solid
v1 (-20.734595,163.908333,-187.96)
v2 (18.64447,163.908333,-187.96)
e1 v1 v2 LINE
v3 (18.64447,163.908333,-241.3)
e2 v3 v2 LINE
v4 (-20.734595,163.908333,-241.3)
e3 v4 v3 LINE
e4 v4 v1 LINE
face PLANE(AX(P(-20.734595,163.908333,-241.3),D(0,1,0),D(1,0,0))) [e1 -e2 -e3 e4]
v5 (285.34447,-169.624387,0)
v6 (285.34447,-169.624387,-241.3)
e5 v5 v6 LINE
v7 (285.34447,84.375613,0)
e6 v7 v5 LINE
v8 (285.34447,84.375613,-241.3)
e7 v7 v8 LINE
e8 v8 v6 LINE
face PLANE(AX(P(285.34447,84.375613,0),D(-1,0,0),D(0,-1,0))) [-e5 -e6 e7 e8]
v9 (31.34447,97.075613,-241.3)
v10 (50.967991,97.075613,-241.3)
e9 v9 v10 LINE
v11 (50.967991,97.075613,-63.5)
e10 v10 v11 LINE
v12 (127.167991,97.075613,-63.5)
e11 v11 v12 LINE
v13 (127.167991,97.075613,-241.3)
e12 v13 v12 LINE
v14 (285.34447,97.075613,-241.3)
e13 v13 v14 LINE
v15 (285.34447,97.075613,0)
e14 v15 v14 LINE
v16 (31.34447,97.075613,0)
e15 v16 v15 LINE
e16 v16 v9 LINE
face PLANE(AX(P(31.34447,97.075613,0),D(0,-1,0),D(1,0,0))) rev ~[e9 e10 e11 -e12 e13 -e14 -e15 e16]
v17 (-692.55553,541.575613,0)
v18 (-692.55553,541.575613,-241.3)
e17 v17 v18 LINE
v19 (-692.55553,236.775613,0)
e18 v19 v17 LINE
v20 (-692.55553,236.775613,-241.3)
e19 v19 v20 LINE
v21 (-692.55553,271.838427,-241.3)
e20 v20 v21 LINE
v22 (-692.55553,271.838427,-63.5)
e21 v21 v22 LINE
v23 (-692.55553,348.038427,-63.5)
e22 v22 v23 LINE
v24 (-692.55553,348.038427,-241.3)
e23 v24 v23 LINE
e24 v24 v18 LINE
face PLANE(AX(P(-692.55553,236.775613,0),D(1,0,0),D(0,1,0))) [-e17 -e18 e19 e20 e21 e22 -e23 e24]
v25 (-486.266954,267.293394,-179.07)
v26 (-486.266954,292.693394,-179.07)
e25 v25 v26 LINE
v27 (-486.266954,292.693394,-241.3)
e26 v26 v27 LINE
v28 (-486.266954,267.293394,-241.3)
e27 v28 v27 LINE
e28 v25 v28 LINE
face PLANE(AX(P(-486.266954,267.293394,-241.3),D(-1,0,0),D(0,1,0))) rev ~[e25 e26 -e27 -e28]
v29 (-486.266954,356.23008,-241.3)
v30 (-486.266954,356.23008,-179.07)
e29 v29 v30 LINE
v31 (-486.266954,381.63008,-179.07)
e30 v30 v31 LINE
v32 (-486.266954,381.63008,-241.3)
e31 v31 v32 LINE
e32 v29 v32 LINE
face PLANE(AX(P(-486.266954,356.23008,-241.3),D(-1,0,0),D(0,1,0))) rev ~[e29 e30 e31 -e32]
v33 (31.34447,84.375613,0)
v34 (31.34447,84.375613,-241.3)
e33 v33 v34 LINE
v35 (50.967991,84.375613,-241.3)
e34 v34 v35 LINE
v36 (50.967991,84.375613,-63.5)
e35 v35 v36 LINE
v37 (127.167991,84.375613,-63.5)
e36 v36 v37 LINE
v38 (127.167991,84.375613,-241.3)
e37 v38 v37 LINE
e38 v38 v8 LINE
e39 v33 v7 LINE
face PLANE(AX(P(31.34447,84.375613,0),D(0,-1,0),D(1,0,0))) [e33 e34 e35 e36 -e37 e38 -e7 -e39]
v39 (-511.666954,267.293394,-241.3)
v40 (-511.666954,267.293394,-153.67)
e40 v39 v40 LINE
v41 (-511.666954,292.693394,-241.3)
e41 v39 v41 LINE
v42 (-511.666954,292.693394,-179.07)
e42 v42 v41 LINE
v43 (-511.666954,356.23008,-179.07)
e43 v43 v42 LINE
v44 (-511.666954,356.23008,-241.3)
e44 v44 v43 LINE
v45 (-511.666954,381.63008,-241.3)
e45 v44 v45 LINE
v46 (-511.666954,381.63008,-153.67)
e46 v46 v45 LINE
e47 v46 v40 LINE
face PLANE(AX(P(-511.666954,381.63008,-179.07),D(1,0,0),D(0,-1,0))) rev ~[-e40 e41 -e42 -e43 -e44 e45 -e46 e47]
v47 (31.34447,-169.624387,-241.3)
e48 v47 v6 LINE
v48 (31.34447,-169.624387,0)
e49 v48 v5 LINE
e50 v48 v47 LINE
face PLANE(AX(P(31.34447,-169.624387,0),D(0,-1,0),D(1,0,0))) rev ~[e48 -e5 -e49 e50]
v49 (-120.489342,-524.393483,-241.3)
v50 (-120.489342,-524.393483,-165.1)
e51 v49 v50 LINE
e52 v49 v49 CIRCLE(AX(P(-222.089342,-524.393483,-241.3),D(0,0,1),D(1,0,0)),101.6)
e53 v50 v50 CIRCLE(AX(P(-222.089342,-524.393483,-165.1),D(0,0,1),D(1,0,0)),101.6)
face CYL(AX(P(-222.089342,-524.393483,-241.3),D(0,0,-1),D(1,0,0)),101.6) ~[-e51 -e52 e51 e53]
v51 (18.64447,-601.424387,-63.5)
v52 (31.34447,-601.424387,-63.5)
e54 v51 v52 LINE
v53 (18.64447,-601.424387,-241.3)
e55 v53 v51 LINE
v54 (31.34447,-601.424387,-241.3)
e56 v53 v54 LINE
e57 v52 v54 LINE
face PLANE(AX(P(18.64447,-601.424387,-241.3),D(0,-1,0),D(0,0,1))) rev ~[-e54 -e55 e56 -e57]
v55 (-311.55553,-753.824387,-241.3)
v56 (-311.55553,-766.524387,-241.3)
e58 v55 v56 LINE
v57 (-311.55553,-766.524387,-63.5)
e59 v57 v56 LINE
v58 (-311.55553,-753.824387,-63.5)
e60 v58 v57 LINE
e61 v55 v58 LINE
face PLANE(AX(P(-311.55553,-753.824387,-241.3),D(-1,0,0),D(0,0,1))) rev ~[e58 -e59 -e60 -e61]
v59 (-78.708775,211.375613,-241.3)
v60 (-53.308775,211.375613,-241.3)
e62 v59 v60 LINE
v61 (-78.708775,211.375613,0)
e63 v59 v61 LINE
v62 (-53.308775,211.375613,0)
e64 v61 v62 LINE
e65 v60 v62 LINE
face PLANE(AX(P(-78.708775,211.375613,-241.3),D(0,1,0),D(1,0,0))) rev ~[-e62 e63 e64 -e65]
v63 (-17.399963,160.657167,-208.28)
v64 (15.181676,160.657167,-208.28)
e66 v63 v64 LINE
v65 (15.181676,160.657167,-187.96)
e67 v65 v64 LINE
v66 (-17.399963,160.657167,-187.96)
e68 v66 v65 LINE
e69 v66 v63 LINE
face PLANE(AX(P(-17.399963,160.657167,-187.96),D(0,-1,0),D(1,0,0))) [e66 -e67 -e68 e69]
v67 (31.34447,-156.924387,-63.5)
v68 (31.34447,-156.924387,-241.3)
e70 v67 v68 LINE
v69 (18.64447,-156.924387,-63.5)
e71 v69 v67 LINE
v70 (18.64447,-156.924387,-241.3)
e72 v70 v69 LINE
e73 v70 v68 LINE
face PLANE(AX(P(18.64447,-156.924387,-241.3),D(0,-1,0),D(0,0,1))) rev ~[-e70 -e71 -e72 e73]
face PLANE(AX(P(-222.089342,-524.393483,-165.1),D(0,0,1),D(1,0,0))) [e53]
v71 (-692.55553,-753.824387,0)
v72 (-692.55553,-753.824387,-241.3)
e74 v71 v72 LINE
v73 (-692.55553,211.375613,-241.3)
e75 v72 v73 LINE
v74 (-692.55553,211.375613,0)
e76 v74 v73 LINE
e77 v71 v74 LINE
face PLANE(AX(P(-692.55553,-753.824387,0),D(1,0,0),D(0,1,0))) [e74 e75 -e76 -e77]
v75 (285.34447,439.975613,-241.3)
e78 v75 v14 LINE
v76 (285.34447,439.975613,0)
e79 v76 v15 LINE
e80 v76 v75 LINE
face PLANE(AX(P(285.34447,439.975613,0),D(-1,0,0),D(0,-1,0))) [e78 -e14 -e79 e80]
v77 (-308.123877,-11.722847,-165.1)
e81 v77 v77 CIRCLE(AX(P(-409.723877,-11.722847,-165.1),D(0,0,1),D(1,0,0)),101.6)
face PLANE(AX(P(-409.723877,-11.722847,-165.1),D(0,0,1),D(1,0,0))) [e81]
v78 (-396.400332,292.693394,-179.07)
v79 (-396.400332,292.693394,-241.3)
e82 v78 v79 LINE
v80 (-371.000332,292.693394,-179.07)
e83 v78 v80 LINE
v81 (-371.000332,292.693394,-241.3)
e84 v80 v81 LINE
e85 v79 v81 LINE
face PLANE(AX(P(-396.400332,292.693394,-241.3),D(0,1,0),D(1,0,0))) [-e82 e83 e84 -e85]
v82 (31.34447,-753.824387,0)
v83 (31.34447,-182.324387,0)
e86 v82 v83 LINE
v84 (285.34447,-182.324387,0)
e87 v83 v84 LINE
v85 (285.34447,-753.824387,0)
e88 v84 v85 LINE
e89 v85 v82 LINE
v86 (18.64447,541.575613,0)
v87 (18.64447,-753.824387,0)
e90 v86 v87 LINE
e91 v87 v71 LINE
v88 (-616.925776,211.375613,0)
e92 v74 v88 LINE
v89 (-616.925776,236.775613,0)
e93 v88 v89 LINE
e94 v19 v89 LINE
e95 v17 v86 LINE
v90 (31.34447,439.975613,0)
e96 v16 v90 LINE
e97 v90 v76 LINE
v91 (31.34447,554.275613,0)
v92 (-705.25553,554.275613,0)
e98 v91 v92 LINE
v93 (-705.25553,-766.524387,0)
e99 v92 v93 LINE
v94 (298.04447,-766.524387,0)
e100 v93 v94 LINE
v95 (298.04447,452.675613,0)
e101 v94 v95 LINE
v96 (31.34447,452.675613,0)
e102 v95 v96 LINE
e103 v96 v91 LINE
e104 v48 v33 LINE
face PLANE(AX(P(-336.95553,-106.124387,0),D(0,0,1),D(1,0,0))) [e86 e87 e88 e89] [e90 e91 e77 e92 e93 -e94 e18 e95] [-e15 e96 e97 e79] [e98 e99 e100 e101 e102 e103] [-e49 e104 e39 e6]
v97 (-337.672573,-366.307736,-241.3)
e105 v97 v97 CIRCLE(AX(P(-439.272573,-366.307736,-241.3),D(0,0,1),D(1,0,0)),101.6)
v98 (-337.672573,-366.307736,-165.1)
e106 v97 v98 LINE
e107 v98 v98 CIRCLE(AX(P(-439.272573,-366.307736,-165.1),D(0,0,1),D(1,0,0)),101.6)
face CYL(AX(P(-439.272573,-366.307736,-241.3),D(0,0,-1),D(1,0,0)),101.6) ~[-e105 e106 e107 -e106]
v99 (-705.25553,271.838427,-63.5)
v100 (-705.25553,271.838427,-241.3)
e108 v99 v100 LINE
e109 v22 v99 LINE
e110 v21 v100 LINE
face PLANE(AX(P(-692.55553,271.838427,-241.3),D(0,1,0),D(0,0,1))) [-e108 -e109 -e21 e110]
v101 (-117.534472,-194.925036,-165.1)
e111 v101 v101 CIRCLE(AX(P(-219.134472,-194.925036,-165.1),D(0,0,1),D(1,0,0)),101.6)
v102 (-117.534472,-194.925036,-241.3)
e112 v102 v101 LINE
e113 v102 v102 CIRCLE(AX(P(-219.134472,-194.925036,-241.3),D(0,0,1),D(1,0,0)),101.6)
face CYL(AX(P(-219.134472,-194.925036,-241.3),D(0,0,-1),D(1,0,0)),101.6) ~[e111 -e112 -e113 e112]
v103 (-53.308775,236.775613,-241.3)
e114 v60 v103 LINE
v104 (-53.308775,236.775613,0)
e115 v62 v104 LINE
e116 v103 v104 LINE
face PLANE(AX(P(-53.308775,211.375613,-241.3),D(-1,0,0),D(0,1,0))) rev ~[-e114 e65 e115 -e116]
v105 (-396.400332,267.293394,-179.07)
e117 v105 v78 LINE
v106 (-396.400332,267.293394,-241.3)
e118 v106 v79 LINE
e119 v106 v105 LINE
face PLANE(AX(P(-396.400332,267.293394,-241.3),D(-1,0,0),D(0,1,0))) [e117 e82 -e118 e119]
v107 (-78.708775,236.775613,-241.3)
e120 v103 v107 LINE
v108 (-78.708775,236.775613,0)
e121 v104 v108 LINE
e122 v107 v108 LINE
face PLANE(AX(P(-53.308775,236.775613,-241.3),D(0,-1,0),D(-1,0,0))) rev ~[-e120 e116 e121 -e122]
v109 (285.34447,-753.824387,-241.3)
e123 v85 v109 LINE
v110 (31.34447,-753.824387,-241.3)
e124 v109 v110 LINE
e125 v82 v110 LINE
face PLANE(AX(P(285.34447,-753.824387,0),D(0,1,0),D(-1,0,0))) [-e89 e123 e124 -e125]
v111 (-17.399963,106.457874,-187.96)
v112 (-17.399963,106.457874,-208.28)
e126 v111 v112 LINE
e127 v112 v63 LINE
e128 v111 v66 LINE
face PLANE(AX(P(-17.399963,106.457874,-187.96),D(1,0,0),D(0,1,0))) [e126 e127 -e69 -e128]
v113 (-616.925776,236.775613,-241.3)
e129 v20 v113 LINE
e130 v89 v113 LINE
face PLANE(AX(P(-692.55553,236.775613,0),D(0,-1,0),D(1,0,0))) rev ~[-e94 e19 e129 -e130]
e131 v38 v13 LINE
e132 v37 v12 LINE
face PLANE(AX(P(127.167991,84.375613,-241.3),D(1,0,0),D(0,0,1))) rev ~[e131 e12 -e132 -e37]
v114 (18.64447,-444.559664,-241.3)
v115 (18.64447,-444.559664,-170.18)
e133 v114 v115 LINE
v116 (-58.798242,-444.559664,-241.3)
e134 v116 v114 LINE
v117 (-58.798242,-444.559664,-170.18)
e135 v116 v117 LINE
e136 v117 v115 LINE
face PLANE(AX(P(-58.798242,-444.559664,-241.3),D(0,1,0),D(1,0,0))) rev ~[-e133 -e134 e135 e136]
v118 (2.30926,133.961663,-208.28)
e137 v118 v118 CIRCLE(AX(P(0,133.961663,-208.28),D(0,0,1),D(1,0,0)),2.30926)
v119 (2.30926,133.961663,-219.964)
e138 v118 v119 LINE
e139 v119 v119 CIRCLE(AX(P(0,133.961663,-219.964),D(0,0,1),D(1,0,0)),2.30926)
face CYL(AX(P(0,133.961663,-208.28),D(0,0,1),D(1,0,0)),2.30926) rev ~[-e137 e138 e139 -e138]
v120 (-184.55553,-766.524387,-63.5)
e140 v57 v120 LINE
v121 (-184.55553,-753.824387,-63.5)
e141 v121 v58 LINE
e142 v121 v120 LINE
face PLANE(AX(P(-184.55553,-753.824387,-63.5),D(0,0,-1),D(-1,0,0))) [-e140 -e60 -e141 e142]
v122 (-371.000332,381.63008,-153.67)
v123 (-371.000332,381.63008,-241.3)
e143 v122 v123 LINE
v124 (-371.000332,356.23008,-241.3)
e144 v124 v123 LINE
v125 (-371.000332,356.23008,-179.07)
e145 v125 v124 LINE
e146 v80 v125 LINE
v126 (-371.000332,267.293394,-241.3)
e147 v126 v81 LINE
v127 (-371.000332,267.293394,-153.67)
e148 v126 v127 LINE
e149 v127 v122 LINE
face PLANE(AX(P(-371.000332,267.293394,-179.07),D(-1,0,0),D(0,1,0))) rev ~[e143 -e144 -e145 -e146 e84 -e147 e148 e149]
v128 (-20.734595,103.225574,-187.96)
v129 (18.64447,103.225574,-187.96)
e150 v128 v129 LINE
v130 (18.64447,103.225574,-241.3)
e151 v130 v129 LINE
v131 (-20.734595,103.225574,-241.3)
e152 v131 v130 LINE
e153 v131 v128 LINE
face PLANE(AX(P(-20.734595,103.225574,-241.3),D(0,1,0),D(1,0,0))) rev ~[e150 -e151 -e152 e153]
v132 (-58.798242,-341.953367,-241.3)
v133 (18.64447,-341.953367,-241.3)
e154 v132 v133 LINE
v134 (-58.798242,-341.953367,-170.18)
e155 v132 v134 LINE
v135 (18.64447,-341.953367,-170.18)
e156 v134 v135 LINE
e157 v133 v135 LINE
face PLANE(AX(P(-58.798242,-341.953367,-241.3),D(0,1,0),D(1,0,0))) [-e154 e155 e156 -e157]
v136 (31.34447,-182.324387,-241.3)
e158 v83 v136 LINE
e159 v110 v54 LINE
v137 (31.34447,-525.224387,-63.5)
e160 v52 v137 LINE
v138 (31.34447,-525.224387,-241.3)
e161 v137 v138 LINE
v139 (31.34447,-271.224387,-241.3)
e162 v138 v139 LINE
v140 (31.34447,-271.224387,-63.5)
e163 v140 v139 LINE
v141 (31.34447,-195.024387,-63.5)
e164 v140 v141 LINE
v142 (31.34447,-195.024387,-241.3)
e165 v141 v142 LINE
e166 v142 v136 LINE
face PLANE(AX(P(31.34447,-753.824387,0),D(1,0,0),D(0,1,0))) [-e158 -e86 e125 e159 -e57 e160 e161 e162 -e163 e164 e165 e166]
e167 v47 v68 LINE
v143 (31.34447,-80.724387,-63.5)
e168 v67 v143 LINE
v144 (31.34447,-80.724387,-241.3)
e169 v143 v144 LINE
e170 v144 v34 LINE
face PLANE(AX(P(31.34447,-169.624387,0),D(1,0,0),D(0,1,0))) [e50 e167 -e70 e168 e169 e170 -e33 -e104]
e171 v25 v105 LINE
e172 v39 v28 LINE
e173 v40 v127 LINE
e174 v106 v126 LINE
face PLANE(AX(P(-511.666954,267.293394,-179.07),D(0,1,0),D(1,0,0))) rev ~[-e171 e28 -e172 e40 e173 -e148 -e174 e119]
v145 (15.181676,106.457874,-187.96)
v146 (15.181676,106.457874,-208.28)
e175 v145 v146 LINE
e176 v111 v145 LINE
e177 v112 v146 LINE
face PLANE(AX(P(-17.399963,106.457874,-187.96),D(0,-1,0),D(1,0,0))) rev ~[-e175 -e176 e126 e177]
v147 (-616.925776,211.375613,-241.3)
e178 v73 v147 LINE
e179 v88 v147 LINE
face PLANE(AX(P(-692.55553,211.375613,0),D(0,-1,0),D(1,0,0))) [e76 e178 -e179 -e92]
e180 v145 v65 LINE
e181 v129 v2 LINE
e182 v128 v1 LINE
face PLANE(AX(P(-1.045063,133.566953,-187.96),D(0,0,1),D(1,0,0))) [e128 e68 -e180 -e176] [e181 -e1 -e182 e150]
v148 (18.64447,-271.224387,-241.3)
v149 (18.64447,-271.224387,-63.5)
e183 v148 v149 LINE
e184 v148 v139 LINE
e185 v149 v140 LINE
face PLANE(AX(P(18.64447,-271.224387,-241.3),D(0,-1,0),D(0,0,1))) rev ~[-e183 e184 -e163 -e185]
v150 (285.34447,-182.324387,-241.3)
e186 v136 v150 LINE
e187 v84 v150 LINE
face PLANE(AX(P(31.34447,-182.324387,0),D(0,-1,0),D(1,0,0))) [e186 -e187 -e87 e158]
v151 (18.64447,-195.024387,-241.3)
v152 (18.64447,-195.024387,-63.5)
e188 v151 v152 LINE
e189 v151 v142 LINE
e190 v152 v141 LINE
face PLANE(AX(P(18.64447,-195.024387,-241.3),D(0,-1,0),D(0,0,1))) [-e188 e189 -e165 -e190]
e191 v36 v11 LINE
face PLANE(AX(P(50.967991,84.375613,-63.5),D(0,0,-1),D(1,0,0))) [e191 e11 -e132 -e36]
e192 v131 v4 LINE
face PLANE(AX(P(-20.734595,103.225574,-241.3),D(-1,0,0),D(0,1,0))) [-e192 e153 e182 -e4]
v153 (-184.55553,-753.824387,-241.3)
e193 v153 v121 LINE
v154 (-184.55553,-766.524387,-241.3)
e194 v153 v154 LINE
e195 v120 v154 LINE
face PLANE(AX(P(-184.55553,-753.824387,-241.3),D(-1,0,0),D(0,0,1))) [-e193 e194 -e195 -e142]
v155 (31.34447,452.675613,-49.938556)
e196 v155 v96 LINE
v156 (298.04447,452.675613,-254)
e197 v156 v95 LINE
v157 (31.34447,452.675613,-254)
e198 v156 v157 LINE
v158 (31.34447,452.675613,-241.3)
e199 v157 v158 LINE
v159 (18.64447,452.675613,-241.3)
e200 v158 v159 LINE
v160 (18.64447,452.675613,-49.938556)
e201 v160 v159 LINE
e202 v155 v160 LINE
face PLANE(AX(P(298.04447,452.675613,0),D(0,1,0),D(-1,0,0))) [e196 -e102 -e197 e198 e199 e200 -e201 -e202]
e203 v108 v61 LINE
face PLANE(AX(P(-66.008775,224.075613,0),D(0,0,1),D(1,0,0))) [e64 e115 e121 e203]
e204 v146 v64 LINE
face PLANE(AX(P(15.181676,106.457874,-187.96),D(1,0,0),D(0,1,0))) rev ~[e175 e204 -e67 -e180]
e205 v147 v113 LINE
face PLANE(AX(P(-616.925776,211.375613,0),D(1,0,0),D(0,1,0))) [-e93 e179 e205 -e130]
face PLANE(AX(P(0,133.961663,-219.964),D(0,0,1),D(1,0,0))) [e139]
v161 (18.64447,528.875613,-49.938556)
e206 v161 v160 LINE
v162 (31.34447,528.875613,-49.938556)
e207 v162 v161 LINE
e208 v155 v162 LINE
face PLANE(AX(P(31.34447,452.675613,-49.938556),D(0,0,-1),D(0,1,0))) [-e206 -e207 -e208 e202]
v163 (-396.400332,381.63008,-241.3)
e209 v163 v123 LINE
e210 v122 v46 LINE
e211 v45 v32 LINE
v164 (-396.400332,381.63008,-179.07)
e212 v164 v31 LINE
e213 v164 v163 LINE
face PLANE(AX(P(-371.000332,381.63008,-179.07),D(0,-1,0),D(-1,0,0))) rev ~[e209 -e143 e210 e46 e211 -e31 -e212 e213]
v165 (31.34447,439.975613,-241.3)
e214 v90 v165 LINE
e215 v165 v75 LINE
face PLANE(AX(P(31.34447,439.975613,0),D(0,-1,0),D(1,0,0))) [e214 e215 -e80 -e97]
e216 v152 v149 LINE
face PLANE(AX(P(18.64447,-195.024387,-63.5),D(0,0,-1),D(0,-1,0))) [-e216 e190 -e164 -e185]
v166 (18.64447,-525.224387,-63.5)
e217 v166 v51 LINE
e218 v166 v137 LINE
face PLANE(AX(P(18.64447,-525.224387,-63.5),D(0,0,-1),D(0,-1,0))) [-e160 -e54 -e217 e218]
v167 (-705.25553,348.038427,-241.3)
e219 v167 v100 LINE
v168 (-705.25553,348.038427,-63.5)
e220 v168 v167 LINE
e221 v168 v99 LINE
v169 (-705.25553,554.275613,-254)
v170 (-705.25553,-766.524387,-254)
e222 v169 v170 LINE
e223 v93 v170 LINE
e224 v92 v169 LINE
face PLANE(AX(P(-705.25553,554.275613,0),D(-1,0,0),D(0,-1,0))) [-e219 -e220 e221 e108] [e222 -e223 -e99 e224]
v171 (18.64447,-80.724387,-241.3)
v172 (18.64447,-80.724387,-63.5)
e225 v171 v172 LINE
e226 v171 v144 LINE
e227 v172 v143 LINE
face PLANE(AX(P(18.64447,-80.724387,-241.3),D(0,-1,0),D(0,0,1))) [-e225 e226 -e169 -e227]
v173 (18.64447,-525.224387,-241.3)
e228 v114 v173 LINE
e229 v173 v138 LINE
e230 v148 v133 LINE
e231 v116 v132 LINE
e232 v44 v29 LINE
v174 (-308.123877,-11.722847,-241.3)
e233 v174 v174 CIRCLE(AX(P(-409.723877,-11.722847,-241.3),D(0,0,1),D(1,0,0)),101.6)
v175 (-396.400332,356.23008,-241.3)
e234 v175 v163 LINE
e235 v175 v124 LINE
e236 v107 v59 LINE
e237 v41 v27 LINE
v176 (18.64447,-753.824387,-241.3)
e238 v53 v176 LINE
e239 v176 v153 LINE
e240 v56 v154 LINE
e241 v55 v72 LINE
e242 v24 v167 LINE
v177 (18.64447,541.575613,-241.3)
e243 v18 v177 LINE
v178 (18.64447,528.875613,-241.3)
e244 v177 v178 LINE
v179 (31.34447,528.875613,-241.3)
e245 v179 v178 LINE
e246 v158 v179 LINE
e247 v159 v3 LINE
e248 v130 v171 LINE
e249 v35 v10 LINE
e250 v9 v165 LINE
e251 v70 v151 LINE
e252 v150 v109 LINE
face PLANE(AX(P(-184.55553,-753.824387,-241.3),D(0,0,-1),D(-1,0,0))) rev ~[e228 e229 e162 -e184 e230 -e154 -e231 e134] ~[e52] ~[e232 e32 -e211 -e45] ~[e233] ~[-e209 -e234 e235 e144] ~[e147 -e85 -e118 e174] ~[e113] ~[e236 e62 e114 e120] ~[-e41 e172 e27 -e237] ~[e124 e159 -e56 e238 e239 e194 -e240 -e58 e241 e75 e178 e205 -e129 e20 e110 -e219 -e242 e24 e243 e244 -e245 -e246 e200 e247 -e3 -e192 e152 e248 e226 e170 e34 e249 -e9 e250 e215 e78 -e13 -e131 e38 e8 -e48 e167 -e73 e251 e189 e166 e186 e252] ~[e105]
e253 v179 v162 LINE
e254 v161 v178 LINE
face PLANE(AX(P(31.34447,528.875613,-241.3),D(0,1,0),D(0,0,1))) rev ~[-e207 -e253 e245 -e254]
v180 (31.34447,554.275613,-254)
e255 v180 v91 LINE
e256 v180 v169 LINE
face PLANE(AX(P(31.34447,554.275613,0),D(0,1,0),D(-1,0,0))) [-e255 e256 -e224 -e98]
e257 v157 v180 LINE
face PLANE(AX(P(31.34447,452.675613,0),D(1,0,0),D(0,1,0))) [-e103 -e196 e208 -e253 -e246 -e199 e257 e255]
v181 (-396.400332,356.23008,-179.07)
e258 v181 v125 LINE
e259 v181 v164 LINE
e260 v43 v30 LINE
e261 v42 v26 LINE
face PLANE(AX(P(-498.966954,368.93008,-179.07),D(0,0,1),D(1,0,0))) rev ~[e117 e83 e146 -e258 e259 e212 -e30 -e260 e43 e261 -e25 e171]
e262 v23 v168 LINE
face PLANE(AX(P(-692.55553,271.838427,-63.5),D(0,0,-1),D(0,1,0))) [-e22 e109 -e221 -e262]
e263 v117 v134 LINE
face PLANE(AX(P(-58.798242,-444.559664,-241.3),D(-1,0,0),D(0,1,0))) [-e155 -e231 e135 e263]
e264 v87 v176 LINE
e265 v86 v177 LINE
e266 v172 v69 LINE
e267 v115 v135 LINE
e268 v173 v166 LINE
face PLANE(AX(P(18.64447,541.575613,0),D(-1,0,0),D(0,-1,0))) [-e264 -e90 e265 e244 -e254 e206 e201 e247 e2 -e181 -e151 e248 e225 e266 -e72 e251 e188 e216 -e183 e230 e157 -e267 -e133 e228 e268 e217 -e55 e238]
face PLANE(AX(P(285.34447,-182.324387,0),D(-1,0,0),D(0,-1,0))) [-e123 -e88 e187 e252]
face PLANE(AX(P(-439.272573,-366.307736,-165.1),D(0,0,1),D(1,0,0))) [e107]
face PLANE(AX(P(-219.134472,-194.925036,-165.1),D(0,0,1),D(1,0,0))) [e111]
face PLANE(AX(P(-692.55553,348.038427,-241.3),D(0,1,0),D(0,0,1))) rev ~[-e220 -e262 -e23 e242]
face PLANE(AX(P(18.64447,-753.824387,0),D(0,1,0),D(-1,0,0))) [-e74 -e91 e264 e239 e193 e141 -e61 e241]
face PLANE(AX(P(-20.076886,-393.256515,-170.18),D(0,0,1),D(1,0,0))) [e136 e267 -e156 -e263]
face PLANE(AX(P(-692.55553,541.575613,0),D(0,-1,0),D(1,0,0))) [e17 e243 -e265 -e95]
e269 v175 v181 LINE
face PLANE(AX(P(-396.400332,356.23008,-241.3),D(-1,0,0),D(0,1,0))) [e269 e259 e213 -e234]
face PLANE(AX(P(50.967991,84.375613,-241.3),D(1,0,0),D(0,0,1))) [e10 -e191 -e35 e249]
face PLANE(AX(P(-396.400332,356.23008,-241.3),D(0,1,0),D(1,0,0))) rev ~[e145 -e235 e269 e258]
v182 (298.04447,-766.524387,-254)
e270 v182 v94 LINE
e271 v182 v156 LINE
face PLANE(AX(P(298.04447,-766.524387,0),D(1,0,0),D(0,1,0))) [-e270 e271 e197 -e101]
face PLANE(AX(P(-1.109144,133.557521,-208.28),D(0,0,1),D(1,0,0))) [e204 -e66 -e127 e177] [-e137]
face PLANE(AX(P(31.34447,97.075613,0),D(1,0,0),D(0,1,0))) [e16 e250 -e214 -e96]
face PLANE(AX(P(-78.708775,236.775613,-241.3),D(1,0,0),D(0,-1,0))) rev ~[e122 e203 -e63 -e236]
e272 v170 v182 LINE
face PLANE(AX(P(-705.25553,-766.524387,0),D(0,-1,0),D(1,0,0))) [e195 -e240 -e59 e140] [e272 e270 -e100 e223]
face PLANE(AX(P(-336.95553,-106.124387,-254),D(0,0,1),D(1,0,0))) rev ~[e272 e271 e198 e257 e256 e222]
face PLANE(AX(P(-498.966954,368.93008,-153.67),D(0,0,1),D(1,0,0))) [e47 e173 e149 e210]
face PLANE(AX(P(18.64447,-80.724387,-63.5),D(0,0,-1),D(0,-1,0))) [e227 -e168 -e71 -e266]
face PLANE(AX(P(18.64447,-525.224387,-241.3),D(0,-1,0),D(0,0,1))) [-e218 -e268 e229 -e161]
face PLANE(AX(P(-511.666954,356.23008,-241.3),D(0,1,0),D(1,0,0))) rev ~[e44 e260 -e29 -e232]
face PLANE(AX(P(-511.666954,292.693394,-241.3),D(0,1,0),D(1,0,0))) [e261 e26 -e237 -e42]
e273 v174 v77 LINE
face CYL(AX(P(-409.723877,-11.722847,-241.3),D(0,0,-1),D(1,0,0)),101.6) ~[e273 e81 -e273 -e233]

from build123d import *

# Parameters (mm, degrees)
F0_W      = 75.6297543388
F0_H      = 25.4
F0_W_2    = 254
F0_H_2    = 12.7
F1_DEPTH  = 254
F3_DEPTH  = 12.7
F4_R      = 101.6
F5_DEPTH  = 76.2
F6_W      = 76.2
F6_H      = 177.8
F7_DEPTH  = 25.4
F8_W      = 127
F8_H      = 177.8
F9_DEPTH  = 25.4
F10_W     = 76.2
F10_H     = 177.8
F11_DEPTH = 25.4
F12_W     = 76.2
F12_H     = 177.8
F13_DEPTH = 25.4
F14_W     = 76.2
F14_H     = 191.3614441931
F15_DEPTH = 25.4
F17_DEPTH = 241.3
F18_W     = 25.4
F18_H     = 25.4
F19_DEPTH = 62.23
F20_DEPTH = 25.4
F21_W     = 25.4
F21_H     = 25.4
F22_DEPTH = 25.4
F23_W     = 77.4427120167
F23_H     = 102.6062965393
F24_DEPTH = 71.12
F25_W     = 39.3790647912
F25_H     = 60.6827586889
F26_DEPTH = 53.34
F27_W     = 32.5816385448
F27_H     = 54.1992932558
F28_DEPTH = 20.32
F29_R     = 2.3092601705
F30_DEPTH = 11.684


with BuildPart() as f1:
    # F0 (on Top) → F1 (new body)
    with BuildSketch(Plane.XY):
        Polygon((-705.2555303436, -766.5243874192), (-578.2555303436, -766.5243874192), (31.3444696564, -766.5243874192), (31.3444696564, -753.8243874192), (31.3444696564, -639.5243874192), (31.3444696564, -182.3243874192), (31.3444696564, -169.6243874192), (31.3444696564, 84.3756125808), (31.3444696564, 97.0756125808), (31.3444696564, 439.9756125808), (31.3444696564, 452.6756125808), (31.3444696564, 554.2756125808), (-578.2555303436, 554.2756125808), (-705.2555303436, 554.2756125808), (-705.2555303436, -639.5243874192), align=None)
        Polygon((-692.5555303436, 236.7756125808), (-692.5555303436, 541.5756125808), (18.6444696564, 541.5756125808), (18.6444696564, -753.8243874192), (-692.5555303436, -753.8243874192), (-692.5555303436, 211.3756125808), align=None, mode=Mode.SUBTRACT)
        Polygon((31.3444696564, -753.8243874192), (31.3444696564, -766.5243874192), (298.0444696564, -766.5243874192), (298.0444696564, 452.6756125808), (31.3444696564, 452.6756125808), (31.3444696564, 439.9756125808), (285.3444696564, 439.9756125808), (285.3444696564, 97.0756125808), (285.3444696564, 84.3756125808), (285.3444696564, -169.6243874192), (285.3444696564, -182.3243874192), (285.3444696564, -753.8243874192), align=None)
        with Locations((-654.7406531742, 224.0756125808)):
            Rectangle(F0_W, F0_H)
        with Locations((158.3444696564, -175.9743874192)):
            Rectangle(F0_W_2, F0_H_2)
        with Locations((158.3444696564, 90.7256125808)):
            Rectangle(F0_W_2, F0_H_2)
    extrude(amount=-F1_DEPTH)

    # F2 (on face) → F3 (join)
    with BuildSketch(Plane(origin=(0, 0, -254), x_dir=(1, 0, 0), z_dir=(0, 0, -1))):
        Polygon((-705.2555303436, -554.2756125808), (-692.5555303436, -554.2756125808), (31.3444696564, -554.2756125808), (31.3444696564, -452.6756125808), (298.0444696564, -452.6756125808), (298.0444696564, 766.5243874192), (-705.2555303436, 766.5243874192), align=None)
    extrude(amount=-F3_DEPTH)

    # F4 (on face) → F5 (join)
    with BuildSketch(Plane.XY.offset(-241.3)):
        with Locations((-409.7238771986, -11.7228467155)):
            Circle(F4_R)
        with Locations((-219.1344722543, -194.9250362249)):
            Circle(F4_R)
        with Locations((-439.272572652, -366.3077359129)):
            Circle(F4_R)
        with Locations((-222.0893417996, -524.3934827381)):
            Circle(F4_R)
    extrude(amount=F5_DEPTH)

    # F6 (on face) → F7 (cut)
    with BuildSketch(Plane.YZ.offset(-692.5555303436)):
        with Locations((309.93842659, -152.4)):
            Rectangle(F6_W, F6_H)
    extrude(amount=-F7_DEPTH, mode=Mode.SUBTRACT)

    # F8 (on face) → F9 (cut)
    with BuildSketch(Plane(origin=(0, -753.8243874192, 0), x_dir=(-1, 0, 0), z_dir=(0, 1, 0))):
        with Locations((248.0555303436, -152.4)):
            Rectangle(F8_W, F8_H)
    extrude(amount=-F9_DEPTH, mode=Mode.SUBTRACT)

    # F10 (on face) → F11 (cut)
    with BuildSketch(Plane(origin=(18.6444696564, 0, 0), x_dir=(0, -1, 0), z_dir=(-1, 0, 0))):
        with Locations((233.1243874192, -152.4)):
            Rectangle(F10_W, F10_H)
        with Locations((563.3243874192, -152.4)):
            Rectangle(F10_W, F10_H)
        with Locations((118.8243874192, -152.4)):
            Rectangle(F10_W, F10_H)
    extrude(amount=-F11_DEPTH, mode=Mode.SUBTRACT)

    # F12 (on face) → F13 (cut)
    with BuildSketch(Plane.XZ.offset(-84.3756125808)):
        with Locations((89.0679913521, -152.4)):
            Rectangle(F12_W, F12_H)
    extrude(amount=-F13_DEPTH, mode=Mode.SUBTRACT)

    # F14 (on face) → F15 (cut)
    with BuildSketch(Plane.YZ.offset(31.3444696564)):
        with Locations((490.7756125808, -145.6192779034)):
            Rectangle(F14_W, F14_H)
    extrude(amount=-F15_DEPTH, mode=Mode.SUBTRACT)

    # F16 (on face) → F17 (join)
    with BuildSketch(Plane.XY.offset(-241.3)):
        Polygon((-53.3087753415, 236.7756125808), (-78.7087753415, 236.7756125808), (-78.7087753415, 211.3756125808), (-61.1483082175, 211.3756125808), (-53.3087753415, 211.3756125808), align=None)
    extrude(amount=F17_DEPTH)

    # F18 (on face) → F19 (join)
    with BuildSketch(Plane.XY.offset(-241.3)):
        with Locations((-498.9669535637, 368.9300801277)):
            Rectangle(F18_W, F18_H)
        with Locations((-498.9669535637, 279.9933936119)):
            Rectangle(F18_W, F18_H)
        with Locations((-383.7003324509, 279.9933936119)):
            Rectangle(F18_W, F18_H)
        with Locations((-383.7003324509, 368.9300801277)):
            Rectangle(F18_W, F18_H)
    extrude(amount=F19_DEPTH)

    # F18 (on face) → F20 (join)
    with BuildSketch(Plane.XY.offset(-241.3)):
        with Locations((-498.9669535637, 368.9300801277)):
            Rectangle(F18_W, F18_H)
        with Locations((-498.9669535637, 279.9933936119)):
            Rectangle(F18_W, F18_H)
        with Locations((-383.7003324509, 279.9933936119)):
            Rectangle(F18_W, F18_H)
        with Locations((-383.7003324509, 368.9300801277)):
            Rectangle(F18_W, F18_H)
    extrude(amount=F20_DEPTH)

    # F21 (on face) → F22 (join)
    with BuildSketch(Plane.XY.offset(-179.07)):
        with Locations((-498.9669535637, 368.9300801277)):
            Rectangle(F21_W, F21_H)
        Polygon((-486.2669535637, 356.2300801277), (-511.6669535637, 356.2300801277), (-511.6669535637, 267.2933936119), (-396.4003324509, 267.2933936119), (-396.4003324509, 292.6933936119), (-371.0003324509, 292.6933936119), (-371.0003324509, 381.6300801277), (-486.2669535637, 381.6300801277), align=None)
        with Locations((-383.7003324509, 279.9933936119)):
            Rectangle(F21_W, F21_H)
    extrude(amount=F22_DEPTH)

    # F23 (on face) → F24 (join)
    with BuildSketch(Plane.XY.offset(-241.3)):
        with Locations((-20.076886352, -393.2565152645)):
            Rectangle(F23_W, F23_H)
    extrude(amount=F24_DEPTH)

    # F25 (on face) → F26 (join)
    with BuildSketch(Plane.XY.offset(-241.3)):
        with Locations((-1.0450627392, 133.5669532418)):
            Rectangle(F25_W, F25_H)
    extrude(amount=F26_DEPTH)

    # F27 (on face) → F28 (cut)
    with BuildSketch(Plane.XY.offset(-187.96)):
        with Locations((-1.1091437191, 133.5575208068)):
            Rectangle(F27_W, F27_H)
    extrude(amount=-F28_DEPTH, mode=Mode.SUBTRACT)

    # F29 (on face) → F30 (cut)
    with BuildSketch(Plane.XY.offset(-208.28)):
        with Locations((0, 133.9616626501)):
            Circle(F29_R)
    extrude(amount=-F30_DEPTH, mode=Mode.SUBTRACT)


solid = f1.part
